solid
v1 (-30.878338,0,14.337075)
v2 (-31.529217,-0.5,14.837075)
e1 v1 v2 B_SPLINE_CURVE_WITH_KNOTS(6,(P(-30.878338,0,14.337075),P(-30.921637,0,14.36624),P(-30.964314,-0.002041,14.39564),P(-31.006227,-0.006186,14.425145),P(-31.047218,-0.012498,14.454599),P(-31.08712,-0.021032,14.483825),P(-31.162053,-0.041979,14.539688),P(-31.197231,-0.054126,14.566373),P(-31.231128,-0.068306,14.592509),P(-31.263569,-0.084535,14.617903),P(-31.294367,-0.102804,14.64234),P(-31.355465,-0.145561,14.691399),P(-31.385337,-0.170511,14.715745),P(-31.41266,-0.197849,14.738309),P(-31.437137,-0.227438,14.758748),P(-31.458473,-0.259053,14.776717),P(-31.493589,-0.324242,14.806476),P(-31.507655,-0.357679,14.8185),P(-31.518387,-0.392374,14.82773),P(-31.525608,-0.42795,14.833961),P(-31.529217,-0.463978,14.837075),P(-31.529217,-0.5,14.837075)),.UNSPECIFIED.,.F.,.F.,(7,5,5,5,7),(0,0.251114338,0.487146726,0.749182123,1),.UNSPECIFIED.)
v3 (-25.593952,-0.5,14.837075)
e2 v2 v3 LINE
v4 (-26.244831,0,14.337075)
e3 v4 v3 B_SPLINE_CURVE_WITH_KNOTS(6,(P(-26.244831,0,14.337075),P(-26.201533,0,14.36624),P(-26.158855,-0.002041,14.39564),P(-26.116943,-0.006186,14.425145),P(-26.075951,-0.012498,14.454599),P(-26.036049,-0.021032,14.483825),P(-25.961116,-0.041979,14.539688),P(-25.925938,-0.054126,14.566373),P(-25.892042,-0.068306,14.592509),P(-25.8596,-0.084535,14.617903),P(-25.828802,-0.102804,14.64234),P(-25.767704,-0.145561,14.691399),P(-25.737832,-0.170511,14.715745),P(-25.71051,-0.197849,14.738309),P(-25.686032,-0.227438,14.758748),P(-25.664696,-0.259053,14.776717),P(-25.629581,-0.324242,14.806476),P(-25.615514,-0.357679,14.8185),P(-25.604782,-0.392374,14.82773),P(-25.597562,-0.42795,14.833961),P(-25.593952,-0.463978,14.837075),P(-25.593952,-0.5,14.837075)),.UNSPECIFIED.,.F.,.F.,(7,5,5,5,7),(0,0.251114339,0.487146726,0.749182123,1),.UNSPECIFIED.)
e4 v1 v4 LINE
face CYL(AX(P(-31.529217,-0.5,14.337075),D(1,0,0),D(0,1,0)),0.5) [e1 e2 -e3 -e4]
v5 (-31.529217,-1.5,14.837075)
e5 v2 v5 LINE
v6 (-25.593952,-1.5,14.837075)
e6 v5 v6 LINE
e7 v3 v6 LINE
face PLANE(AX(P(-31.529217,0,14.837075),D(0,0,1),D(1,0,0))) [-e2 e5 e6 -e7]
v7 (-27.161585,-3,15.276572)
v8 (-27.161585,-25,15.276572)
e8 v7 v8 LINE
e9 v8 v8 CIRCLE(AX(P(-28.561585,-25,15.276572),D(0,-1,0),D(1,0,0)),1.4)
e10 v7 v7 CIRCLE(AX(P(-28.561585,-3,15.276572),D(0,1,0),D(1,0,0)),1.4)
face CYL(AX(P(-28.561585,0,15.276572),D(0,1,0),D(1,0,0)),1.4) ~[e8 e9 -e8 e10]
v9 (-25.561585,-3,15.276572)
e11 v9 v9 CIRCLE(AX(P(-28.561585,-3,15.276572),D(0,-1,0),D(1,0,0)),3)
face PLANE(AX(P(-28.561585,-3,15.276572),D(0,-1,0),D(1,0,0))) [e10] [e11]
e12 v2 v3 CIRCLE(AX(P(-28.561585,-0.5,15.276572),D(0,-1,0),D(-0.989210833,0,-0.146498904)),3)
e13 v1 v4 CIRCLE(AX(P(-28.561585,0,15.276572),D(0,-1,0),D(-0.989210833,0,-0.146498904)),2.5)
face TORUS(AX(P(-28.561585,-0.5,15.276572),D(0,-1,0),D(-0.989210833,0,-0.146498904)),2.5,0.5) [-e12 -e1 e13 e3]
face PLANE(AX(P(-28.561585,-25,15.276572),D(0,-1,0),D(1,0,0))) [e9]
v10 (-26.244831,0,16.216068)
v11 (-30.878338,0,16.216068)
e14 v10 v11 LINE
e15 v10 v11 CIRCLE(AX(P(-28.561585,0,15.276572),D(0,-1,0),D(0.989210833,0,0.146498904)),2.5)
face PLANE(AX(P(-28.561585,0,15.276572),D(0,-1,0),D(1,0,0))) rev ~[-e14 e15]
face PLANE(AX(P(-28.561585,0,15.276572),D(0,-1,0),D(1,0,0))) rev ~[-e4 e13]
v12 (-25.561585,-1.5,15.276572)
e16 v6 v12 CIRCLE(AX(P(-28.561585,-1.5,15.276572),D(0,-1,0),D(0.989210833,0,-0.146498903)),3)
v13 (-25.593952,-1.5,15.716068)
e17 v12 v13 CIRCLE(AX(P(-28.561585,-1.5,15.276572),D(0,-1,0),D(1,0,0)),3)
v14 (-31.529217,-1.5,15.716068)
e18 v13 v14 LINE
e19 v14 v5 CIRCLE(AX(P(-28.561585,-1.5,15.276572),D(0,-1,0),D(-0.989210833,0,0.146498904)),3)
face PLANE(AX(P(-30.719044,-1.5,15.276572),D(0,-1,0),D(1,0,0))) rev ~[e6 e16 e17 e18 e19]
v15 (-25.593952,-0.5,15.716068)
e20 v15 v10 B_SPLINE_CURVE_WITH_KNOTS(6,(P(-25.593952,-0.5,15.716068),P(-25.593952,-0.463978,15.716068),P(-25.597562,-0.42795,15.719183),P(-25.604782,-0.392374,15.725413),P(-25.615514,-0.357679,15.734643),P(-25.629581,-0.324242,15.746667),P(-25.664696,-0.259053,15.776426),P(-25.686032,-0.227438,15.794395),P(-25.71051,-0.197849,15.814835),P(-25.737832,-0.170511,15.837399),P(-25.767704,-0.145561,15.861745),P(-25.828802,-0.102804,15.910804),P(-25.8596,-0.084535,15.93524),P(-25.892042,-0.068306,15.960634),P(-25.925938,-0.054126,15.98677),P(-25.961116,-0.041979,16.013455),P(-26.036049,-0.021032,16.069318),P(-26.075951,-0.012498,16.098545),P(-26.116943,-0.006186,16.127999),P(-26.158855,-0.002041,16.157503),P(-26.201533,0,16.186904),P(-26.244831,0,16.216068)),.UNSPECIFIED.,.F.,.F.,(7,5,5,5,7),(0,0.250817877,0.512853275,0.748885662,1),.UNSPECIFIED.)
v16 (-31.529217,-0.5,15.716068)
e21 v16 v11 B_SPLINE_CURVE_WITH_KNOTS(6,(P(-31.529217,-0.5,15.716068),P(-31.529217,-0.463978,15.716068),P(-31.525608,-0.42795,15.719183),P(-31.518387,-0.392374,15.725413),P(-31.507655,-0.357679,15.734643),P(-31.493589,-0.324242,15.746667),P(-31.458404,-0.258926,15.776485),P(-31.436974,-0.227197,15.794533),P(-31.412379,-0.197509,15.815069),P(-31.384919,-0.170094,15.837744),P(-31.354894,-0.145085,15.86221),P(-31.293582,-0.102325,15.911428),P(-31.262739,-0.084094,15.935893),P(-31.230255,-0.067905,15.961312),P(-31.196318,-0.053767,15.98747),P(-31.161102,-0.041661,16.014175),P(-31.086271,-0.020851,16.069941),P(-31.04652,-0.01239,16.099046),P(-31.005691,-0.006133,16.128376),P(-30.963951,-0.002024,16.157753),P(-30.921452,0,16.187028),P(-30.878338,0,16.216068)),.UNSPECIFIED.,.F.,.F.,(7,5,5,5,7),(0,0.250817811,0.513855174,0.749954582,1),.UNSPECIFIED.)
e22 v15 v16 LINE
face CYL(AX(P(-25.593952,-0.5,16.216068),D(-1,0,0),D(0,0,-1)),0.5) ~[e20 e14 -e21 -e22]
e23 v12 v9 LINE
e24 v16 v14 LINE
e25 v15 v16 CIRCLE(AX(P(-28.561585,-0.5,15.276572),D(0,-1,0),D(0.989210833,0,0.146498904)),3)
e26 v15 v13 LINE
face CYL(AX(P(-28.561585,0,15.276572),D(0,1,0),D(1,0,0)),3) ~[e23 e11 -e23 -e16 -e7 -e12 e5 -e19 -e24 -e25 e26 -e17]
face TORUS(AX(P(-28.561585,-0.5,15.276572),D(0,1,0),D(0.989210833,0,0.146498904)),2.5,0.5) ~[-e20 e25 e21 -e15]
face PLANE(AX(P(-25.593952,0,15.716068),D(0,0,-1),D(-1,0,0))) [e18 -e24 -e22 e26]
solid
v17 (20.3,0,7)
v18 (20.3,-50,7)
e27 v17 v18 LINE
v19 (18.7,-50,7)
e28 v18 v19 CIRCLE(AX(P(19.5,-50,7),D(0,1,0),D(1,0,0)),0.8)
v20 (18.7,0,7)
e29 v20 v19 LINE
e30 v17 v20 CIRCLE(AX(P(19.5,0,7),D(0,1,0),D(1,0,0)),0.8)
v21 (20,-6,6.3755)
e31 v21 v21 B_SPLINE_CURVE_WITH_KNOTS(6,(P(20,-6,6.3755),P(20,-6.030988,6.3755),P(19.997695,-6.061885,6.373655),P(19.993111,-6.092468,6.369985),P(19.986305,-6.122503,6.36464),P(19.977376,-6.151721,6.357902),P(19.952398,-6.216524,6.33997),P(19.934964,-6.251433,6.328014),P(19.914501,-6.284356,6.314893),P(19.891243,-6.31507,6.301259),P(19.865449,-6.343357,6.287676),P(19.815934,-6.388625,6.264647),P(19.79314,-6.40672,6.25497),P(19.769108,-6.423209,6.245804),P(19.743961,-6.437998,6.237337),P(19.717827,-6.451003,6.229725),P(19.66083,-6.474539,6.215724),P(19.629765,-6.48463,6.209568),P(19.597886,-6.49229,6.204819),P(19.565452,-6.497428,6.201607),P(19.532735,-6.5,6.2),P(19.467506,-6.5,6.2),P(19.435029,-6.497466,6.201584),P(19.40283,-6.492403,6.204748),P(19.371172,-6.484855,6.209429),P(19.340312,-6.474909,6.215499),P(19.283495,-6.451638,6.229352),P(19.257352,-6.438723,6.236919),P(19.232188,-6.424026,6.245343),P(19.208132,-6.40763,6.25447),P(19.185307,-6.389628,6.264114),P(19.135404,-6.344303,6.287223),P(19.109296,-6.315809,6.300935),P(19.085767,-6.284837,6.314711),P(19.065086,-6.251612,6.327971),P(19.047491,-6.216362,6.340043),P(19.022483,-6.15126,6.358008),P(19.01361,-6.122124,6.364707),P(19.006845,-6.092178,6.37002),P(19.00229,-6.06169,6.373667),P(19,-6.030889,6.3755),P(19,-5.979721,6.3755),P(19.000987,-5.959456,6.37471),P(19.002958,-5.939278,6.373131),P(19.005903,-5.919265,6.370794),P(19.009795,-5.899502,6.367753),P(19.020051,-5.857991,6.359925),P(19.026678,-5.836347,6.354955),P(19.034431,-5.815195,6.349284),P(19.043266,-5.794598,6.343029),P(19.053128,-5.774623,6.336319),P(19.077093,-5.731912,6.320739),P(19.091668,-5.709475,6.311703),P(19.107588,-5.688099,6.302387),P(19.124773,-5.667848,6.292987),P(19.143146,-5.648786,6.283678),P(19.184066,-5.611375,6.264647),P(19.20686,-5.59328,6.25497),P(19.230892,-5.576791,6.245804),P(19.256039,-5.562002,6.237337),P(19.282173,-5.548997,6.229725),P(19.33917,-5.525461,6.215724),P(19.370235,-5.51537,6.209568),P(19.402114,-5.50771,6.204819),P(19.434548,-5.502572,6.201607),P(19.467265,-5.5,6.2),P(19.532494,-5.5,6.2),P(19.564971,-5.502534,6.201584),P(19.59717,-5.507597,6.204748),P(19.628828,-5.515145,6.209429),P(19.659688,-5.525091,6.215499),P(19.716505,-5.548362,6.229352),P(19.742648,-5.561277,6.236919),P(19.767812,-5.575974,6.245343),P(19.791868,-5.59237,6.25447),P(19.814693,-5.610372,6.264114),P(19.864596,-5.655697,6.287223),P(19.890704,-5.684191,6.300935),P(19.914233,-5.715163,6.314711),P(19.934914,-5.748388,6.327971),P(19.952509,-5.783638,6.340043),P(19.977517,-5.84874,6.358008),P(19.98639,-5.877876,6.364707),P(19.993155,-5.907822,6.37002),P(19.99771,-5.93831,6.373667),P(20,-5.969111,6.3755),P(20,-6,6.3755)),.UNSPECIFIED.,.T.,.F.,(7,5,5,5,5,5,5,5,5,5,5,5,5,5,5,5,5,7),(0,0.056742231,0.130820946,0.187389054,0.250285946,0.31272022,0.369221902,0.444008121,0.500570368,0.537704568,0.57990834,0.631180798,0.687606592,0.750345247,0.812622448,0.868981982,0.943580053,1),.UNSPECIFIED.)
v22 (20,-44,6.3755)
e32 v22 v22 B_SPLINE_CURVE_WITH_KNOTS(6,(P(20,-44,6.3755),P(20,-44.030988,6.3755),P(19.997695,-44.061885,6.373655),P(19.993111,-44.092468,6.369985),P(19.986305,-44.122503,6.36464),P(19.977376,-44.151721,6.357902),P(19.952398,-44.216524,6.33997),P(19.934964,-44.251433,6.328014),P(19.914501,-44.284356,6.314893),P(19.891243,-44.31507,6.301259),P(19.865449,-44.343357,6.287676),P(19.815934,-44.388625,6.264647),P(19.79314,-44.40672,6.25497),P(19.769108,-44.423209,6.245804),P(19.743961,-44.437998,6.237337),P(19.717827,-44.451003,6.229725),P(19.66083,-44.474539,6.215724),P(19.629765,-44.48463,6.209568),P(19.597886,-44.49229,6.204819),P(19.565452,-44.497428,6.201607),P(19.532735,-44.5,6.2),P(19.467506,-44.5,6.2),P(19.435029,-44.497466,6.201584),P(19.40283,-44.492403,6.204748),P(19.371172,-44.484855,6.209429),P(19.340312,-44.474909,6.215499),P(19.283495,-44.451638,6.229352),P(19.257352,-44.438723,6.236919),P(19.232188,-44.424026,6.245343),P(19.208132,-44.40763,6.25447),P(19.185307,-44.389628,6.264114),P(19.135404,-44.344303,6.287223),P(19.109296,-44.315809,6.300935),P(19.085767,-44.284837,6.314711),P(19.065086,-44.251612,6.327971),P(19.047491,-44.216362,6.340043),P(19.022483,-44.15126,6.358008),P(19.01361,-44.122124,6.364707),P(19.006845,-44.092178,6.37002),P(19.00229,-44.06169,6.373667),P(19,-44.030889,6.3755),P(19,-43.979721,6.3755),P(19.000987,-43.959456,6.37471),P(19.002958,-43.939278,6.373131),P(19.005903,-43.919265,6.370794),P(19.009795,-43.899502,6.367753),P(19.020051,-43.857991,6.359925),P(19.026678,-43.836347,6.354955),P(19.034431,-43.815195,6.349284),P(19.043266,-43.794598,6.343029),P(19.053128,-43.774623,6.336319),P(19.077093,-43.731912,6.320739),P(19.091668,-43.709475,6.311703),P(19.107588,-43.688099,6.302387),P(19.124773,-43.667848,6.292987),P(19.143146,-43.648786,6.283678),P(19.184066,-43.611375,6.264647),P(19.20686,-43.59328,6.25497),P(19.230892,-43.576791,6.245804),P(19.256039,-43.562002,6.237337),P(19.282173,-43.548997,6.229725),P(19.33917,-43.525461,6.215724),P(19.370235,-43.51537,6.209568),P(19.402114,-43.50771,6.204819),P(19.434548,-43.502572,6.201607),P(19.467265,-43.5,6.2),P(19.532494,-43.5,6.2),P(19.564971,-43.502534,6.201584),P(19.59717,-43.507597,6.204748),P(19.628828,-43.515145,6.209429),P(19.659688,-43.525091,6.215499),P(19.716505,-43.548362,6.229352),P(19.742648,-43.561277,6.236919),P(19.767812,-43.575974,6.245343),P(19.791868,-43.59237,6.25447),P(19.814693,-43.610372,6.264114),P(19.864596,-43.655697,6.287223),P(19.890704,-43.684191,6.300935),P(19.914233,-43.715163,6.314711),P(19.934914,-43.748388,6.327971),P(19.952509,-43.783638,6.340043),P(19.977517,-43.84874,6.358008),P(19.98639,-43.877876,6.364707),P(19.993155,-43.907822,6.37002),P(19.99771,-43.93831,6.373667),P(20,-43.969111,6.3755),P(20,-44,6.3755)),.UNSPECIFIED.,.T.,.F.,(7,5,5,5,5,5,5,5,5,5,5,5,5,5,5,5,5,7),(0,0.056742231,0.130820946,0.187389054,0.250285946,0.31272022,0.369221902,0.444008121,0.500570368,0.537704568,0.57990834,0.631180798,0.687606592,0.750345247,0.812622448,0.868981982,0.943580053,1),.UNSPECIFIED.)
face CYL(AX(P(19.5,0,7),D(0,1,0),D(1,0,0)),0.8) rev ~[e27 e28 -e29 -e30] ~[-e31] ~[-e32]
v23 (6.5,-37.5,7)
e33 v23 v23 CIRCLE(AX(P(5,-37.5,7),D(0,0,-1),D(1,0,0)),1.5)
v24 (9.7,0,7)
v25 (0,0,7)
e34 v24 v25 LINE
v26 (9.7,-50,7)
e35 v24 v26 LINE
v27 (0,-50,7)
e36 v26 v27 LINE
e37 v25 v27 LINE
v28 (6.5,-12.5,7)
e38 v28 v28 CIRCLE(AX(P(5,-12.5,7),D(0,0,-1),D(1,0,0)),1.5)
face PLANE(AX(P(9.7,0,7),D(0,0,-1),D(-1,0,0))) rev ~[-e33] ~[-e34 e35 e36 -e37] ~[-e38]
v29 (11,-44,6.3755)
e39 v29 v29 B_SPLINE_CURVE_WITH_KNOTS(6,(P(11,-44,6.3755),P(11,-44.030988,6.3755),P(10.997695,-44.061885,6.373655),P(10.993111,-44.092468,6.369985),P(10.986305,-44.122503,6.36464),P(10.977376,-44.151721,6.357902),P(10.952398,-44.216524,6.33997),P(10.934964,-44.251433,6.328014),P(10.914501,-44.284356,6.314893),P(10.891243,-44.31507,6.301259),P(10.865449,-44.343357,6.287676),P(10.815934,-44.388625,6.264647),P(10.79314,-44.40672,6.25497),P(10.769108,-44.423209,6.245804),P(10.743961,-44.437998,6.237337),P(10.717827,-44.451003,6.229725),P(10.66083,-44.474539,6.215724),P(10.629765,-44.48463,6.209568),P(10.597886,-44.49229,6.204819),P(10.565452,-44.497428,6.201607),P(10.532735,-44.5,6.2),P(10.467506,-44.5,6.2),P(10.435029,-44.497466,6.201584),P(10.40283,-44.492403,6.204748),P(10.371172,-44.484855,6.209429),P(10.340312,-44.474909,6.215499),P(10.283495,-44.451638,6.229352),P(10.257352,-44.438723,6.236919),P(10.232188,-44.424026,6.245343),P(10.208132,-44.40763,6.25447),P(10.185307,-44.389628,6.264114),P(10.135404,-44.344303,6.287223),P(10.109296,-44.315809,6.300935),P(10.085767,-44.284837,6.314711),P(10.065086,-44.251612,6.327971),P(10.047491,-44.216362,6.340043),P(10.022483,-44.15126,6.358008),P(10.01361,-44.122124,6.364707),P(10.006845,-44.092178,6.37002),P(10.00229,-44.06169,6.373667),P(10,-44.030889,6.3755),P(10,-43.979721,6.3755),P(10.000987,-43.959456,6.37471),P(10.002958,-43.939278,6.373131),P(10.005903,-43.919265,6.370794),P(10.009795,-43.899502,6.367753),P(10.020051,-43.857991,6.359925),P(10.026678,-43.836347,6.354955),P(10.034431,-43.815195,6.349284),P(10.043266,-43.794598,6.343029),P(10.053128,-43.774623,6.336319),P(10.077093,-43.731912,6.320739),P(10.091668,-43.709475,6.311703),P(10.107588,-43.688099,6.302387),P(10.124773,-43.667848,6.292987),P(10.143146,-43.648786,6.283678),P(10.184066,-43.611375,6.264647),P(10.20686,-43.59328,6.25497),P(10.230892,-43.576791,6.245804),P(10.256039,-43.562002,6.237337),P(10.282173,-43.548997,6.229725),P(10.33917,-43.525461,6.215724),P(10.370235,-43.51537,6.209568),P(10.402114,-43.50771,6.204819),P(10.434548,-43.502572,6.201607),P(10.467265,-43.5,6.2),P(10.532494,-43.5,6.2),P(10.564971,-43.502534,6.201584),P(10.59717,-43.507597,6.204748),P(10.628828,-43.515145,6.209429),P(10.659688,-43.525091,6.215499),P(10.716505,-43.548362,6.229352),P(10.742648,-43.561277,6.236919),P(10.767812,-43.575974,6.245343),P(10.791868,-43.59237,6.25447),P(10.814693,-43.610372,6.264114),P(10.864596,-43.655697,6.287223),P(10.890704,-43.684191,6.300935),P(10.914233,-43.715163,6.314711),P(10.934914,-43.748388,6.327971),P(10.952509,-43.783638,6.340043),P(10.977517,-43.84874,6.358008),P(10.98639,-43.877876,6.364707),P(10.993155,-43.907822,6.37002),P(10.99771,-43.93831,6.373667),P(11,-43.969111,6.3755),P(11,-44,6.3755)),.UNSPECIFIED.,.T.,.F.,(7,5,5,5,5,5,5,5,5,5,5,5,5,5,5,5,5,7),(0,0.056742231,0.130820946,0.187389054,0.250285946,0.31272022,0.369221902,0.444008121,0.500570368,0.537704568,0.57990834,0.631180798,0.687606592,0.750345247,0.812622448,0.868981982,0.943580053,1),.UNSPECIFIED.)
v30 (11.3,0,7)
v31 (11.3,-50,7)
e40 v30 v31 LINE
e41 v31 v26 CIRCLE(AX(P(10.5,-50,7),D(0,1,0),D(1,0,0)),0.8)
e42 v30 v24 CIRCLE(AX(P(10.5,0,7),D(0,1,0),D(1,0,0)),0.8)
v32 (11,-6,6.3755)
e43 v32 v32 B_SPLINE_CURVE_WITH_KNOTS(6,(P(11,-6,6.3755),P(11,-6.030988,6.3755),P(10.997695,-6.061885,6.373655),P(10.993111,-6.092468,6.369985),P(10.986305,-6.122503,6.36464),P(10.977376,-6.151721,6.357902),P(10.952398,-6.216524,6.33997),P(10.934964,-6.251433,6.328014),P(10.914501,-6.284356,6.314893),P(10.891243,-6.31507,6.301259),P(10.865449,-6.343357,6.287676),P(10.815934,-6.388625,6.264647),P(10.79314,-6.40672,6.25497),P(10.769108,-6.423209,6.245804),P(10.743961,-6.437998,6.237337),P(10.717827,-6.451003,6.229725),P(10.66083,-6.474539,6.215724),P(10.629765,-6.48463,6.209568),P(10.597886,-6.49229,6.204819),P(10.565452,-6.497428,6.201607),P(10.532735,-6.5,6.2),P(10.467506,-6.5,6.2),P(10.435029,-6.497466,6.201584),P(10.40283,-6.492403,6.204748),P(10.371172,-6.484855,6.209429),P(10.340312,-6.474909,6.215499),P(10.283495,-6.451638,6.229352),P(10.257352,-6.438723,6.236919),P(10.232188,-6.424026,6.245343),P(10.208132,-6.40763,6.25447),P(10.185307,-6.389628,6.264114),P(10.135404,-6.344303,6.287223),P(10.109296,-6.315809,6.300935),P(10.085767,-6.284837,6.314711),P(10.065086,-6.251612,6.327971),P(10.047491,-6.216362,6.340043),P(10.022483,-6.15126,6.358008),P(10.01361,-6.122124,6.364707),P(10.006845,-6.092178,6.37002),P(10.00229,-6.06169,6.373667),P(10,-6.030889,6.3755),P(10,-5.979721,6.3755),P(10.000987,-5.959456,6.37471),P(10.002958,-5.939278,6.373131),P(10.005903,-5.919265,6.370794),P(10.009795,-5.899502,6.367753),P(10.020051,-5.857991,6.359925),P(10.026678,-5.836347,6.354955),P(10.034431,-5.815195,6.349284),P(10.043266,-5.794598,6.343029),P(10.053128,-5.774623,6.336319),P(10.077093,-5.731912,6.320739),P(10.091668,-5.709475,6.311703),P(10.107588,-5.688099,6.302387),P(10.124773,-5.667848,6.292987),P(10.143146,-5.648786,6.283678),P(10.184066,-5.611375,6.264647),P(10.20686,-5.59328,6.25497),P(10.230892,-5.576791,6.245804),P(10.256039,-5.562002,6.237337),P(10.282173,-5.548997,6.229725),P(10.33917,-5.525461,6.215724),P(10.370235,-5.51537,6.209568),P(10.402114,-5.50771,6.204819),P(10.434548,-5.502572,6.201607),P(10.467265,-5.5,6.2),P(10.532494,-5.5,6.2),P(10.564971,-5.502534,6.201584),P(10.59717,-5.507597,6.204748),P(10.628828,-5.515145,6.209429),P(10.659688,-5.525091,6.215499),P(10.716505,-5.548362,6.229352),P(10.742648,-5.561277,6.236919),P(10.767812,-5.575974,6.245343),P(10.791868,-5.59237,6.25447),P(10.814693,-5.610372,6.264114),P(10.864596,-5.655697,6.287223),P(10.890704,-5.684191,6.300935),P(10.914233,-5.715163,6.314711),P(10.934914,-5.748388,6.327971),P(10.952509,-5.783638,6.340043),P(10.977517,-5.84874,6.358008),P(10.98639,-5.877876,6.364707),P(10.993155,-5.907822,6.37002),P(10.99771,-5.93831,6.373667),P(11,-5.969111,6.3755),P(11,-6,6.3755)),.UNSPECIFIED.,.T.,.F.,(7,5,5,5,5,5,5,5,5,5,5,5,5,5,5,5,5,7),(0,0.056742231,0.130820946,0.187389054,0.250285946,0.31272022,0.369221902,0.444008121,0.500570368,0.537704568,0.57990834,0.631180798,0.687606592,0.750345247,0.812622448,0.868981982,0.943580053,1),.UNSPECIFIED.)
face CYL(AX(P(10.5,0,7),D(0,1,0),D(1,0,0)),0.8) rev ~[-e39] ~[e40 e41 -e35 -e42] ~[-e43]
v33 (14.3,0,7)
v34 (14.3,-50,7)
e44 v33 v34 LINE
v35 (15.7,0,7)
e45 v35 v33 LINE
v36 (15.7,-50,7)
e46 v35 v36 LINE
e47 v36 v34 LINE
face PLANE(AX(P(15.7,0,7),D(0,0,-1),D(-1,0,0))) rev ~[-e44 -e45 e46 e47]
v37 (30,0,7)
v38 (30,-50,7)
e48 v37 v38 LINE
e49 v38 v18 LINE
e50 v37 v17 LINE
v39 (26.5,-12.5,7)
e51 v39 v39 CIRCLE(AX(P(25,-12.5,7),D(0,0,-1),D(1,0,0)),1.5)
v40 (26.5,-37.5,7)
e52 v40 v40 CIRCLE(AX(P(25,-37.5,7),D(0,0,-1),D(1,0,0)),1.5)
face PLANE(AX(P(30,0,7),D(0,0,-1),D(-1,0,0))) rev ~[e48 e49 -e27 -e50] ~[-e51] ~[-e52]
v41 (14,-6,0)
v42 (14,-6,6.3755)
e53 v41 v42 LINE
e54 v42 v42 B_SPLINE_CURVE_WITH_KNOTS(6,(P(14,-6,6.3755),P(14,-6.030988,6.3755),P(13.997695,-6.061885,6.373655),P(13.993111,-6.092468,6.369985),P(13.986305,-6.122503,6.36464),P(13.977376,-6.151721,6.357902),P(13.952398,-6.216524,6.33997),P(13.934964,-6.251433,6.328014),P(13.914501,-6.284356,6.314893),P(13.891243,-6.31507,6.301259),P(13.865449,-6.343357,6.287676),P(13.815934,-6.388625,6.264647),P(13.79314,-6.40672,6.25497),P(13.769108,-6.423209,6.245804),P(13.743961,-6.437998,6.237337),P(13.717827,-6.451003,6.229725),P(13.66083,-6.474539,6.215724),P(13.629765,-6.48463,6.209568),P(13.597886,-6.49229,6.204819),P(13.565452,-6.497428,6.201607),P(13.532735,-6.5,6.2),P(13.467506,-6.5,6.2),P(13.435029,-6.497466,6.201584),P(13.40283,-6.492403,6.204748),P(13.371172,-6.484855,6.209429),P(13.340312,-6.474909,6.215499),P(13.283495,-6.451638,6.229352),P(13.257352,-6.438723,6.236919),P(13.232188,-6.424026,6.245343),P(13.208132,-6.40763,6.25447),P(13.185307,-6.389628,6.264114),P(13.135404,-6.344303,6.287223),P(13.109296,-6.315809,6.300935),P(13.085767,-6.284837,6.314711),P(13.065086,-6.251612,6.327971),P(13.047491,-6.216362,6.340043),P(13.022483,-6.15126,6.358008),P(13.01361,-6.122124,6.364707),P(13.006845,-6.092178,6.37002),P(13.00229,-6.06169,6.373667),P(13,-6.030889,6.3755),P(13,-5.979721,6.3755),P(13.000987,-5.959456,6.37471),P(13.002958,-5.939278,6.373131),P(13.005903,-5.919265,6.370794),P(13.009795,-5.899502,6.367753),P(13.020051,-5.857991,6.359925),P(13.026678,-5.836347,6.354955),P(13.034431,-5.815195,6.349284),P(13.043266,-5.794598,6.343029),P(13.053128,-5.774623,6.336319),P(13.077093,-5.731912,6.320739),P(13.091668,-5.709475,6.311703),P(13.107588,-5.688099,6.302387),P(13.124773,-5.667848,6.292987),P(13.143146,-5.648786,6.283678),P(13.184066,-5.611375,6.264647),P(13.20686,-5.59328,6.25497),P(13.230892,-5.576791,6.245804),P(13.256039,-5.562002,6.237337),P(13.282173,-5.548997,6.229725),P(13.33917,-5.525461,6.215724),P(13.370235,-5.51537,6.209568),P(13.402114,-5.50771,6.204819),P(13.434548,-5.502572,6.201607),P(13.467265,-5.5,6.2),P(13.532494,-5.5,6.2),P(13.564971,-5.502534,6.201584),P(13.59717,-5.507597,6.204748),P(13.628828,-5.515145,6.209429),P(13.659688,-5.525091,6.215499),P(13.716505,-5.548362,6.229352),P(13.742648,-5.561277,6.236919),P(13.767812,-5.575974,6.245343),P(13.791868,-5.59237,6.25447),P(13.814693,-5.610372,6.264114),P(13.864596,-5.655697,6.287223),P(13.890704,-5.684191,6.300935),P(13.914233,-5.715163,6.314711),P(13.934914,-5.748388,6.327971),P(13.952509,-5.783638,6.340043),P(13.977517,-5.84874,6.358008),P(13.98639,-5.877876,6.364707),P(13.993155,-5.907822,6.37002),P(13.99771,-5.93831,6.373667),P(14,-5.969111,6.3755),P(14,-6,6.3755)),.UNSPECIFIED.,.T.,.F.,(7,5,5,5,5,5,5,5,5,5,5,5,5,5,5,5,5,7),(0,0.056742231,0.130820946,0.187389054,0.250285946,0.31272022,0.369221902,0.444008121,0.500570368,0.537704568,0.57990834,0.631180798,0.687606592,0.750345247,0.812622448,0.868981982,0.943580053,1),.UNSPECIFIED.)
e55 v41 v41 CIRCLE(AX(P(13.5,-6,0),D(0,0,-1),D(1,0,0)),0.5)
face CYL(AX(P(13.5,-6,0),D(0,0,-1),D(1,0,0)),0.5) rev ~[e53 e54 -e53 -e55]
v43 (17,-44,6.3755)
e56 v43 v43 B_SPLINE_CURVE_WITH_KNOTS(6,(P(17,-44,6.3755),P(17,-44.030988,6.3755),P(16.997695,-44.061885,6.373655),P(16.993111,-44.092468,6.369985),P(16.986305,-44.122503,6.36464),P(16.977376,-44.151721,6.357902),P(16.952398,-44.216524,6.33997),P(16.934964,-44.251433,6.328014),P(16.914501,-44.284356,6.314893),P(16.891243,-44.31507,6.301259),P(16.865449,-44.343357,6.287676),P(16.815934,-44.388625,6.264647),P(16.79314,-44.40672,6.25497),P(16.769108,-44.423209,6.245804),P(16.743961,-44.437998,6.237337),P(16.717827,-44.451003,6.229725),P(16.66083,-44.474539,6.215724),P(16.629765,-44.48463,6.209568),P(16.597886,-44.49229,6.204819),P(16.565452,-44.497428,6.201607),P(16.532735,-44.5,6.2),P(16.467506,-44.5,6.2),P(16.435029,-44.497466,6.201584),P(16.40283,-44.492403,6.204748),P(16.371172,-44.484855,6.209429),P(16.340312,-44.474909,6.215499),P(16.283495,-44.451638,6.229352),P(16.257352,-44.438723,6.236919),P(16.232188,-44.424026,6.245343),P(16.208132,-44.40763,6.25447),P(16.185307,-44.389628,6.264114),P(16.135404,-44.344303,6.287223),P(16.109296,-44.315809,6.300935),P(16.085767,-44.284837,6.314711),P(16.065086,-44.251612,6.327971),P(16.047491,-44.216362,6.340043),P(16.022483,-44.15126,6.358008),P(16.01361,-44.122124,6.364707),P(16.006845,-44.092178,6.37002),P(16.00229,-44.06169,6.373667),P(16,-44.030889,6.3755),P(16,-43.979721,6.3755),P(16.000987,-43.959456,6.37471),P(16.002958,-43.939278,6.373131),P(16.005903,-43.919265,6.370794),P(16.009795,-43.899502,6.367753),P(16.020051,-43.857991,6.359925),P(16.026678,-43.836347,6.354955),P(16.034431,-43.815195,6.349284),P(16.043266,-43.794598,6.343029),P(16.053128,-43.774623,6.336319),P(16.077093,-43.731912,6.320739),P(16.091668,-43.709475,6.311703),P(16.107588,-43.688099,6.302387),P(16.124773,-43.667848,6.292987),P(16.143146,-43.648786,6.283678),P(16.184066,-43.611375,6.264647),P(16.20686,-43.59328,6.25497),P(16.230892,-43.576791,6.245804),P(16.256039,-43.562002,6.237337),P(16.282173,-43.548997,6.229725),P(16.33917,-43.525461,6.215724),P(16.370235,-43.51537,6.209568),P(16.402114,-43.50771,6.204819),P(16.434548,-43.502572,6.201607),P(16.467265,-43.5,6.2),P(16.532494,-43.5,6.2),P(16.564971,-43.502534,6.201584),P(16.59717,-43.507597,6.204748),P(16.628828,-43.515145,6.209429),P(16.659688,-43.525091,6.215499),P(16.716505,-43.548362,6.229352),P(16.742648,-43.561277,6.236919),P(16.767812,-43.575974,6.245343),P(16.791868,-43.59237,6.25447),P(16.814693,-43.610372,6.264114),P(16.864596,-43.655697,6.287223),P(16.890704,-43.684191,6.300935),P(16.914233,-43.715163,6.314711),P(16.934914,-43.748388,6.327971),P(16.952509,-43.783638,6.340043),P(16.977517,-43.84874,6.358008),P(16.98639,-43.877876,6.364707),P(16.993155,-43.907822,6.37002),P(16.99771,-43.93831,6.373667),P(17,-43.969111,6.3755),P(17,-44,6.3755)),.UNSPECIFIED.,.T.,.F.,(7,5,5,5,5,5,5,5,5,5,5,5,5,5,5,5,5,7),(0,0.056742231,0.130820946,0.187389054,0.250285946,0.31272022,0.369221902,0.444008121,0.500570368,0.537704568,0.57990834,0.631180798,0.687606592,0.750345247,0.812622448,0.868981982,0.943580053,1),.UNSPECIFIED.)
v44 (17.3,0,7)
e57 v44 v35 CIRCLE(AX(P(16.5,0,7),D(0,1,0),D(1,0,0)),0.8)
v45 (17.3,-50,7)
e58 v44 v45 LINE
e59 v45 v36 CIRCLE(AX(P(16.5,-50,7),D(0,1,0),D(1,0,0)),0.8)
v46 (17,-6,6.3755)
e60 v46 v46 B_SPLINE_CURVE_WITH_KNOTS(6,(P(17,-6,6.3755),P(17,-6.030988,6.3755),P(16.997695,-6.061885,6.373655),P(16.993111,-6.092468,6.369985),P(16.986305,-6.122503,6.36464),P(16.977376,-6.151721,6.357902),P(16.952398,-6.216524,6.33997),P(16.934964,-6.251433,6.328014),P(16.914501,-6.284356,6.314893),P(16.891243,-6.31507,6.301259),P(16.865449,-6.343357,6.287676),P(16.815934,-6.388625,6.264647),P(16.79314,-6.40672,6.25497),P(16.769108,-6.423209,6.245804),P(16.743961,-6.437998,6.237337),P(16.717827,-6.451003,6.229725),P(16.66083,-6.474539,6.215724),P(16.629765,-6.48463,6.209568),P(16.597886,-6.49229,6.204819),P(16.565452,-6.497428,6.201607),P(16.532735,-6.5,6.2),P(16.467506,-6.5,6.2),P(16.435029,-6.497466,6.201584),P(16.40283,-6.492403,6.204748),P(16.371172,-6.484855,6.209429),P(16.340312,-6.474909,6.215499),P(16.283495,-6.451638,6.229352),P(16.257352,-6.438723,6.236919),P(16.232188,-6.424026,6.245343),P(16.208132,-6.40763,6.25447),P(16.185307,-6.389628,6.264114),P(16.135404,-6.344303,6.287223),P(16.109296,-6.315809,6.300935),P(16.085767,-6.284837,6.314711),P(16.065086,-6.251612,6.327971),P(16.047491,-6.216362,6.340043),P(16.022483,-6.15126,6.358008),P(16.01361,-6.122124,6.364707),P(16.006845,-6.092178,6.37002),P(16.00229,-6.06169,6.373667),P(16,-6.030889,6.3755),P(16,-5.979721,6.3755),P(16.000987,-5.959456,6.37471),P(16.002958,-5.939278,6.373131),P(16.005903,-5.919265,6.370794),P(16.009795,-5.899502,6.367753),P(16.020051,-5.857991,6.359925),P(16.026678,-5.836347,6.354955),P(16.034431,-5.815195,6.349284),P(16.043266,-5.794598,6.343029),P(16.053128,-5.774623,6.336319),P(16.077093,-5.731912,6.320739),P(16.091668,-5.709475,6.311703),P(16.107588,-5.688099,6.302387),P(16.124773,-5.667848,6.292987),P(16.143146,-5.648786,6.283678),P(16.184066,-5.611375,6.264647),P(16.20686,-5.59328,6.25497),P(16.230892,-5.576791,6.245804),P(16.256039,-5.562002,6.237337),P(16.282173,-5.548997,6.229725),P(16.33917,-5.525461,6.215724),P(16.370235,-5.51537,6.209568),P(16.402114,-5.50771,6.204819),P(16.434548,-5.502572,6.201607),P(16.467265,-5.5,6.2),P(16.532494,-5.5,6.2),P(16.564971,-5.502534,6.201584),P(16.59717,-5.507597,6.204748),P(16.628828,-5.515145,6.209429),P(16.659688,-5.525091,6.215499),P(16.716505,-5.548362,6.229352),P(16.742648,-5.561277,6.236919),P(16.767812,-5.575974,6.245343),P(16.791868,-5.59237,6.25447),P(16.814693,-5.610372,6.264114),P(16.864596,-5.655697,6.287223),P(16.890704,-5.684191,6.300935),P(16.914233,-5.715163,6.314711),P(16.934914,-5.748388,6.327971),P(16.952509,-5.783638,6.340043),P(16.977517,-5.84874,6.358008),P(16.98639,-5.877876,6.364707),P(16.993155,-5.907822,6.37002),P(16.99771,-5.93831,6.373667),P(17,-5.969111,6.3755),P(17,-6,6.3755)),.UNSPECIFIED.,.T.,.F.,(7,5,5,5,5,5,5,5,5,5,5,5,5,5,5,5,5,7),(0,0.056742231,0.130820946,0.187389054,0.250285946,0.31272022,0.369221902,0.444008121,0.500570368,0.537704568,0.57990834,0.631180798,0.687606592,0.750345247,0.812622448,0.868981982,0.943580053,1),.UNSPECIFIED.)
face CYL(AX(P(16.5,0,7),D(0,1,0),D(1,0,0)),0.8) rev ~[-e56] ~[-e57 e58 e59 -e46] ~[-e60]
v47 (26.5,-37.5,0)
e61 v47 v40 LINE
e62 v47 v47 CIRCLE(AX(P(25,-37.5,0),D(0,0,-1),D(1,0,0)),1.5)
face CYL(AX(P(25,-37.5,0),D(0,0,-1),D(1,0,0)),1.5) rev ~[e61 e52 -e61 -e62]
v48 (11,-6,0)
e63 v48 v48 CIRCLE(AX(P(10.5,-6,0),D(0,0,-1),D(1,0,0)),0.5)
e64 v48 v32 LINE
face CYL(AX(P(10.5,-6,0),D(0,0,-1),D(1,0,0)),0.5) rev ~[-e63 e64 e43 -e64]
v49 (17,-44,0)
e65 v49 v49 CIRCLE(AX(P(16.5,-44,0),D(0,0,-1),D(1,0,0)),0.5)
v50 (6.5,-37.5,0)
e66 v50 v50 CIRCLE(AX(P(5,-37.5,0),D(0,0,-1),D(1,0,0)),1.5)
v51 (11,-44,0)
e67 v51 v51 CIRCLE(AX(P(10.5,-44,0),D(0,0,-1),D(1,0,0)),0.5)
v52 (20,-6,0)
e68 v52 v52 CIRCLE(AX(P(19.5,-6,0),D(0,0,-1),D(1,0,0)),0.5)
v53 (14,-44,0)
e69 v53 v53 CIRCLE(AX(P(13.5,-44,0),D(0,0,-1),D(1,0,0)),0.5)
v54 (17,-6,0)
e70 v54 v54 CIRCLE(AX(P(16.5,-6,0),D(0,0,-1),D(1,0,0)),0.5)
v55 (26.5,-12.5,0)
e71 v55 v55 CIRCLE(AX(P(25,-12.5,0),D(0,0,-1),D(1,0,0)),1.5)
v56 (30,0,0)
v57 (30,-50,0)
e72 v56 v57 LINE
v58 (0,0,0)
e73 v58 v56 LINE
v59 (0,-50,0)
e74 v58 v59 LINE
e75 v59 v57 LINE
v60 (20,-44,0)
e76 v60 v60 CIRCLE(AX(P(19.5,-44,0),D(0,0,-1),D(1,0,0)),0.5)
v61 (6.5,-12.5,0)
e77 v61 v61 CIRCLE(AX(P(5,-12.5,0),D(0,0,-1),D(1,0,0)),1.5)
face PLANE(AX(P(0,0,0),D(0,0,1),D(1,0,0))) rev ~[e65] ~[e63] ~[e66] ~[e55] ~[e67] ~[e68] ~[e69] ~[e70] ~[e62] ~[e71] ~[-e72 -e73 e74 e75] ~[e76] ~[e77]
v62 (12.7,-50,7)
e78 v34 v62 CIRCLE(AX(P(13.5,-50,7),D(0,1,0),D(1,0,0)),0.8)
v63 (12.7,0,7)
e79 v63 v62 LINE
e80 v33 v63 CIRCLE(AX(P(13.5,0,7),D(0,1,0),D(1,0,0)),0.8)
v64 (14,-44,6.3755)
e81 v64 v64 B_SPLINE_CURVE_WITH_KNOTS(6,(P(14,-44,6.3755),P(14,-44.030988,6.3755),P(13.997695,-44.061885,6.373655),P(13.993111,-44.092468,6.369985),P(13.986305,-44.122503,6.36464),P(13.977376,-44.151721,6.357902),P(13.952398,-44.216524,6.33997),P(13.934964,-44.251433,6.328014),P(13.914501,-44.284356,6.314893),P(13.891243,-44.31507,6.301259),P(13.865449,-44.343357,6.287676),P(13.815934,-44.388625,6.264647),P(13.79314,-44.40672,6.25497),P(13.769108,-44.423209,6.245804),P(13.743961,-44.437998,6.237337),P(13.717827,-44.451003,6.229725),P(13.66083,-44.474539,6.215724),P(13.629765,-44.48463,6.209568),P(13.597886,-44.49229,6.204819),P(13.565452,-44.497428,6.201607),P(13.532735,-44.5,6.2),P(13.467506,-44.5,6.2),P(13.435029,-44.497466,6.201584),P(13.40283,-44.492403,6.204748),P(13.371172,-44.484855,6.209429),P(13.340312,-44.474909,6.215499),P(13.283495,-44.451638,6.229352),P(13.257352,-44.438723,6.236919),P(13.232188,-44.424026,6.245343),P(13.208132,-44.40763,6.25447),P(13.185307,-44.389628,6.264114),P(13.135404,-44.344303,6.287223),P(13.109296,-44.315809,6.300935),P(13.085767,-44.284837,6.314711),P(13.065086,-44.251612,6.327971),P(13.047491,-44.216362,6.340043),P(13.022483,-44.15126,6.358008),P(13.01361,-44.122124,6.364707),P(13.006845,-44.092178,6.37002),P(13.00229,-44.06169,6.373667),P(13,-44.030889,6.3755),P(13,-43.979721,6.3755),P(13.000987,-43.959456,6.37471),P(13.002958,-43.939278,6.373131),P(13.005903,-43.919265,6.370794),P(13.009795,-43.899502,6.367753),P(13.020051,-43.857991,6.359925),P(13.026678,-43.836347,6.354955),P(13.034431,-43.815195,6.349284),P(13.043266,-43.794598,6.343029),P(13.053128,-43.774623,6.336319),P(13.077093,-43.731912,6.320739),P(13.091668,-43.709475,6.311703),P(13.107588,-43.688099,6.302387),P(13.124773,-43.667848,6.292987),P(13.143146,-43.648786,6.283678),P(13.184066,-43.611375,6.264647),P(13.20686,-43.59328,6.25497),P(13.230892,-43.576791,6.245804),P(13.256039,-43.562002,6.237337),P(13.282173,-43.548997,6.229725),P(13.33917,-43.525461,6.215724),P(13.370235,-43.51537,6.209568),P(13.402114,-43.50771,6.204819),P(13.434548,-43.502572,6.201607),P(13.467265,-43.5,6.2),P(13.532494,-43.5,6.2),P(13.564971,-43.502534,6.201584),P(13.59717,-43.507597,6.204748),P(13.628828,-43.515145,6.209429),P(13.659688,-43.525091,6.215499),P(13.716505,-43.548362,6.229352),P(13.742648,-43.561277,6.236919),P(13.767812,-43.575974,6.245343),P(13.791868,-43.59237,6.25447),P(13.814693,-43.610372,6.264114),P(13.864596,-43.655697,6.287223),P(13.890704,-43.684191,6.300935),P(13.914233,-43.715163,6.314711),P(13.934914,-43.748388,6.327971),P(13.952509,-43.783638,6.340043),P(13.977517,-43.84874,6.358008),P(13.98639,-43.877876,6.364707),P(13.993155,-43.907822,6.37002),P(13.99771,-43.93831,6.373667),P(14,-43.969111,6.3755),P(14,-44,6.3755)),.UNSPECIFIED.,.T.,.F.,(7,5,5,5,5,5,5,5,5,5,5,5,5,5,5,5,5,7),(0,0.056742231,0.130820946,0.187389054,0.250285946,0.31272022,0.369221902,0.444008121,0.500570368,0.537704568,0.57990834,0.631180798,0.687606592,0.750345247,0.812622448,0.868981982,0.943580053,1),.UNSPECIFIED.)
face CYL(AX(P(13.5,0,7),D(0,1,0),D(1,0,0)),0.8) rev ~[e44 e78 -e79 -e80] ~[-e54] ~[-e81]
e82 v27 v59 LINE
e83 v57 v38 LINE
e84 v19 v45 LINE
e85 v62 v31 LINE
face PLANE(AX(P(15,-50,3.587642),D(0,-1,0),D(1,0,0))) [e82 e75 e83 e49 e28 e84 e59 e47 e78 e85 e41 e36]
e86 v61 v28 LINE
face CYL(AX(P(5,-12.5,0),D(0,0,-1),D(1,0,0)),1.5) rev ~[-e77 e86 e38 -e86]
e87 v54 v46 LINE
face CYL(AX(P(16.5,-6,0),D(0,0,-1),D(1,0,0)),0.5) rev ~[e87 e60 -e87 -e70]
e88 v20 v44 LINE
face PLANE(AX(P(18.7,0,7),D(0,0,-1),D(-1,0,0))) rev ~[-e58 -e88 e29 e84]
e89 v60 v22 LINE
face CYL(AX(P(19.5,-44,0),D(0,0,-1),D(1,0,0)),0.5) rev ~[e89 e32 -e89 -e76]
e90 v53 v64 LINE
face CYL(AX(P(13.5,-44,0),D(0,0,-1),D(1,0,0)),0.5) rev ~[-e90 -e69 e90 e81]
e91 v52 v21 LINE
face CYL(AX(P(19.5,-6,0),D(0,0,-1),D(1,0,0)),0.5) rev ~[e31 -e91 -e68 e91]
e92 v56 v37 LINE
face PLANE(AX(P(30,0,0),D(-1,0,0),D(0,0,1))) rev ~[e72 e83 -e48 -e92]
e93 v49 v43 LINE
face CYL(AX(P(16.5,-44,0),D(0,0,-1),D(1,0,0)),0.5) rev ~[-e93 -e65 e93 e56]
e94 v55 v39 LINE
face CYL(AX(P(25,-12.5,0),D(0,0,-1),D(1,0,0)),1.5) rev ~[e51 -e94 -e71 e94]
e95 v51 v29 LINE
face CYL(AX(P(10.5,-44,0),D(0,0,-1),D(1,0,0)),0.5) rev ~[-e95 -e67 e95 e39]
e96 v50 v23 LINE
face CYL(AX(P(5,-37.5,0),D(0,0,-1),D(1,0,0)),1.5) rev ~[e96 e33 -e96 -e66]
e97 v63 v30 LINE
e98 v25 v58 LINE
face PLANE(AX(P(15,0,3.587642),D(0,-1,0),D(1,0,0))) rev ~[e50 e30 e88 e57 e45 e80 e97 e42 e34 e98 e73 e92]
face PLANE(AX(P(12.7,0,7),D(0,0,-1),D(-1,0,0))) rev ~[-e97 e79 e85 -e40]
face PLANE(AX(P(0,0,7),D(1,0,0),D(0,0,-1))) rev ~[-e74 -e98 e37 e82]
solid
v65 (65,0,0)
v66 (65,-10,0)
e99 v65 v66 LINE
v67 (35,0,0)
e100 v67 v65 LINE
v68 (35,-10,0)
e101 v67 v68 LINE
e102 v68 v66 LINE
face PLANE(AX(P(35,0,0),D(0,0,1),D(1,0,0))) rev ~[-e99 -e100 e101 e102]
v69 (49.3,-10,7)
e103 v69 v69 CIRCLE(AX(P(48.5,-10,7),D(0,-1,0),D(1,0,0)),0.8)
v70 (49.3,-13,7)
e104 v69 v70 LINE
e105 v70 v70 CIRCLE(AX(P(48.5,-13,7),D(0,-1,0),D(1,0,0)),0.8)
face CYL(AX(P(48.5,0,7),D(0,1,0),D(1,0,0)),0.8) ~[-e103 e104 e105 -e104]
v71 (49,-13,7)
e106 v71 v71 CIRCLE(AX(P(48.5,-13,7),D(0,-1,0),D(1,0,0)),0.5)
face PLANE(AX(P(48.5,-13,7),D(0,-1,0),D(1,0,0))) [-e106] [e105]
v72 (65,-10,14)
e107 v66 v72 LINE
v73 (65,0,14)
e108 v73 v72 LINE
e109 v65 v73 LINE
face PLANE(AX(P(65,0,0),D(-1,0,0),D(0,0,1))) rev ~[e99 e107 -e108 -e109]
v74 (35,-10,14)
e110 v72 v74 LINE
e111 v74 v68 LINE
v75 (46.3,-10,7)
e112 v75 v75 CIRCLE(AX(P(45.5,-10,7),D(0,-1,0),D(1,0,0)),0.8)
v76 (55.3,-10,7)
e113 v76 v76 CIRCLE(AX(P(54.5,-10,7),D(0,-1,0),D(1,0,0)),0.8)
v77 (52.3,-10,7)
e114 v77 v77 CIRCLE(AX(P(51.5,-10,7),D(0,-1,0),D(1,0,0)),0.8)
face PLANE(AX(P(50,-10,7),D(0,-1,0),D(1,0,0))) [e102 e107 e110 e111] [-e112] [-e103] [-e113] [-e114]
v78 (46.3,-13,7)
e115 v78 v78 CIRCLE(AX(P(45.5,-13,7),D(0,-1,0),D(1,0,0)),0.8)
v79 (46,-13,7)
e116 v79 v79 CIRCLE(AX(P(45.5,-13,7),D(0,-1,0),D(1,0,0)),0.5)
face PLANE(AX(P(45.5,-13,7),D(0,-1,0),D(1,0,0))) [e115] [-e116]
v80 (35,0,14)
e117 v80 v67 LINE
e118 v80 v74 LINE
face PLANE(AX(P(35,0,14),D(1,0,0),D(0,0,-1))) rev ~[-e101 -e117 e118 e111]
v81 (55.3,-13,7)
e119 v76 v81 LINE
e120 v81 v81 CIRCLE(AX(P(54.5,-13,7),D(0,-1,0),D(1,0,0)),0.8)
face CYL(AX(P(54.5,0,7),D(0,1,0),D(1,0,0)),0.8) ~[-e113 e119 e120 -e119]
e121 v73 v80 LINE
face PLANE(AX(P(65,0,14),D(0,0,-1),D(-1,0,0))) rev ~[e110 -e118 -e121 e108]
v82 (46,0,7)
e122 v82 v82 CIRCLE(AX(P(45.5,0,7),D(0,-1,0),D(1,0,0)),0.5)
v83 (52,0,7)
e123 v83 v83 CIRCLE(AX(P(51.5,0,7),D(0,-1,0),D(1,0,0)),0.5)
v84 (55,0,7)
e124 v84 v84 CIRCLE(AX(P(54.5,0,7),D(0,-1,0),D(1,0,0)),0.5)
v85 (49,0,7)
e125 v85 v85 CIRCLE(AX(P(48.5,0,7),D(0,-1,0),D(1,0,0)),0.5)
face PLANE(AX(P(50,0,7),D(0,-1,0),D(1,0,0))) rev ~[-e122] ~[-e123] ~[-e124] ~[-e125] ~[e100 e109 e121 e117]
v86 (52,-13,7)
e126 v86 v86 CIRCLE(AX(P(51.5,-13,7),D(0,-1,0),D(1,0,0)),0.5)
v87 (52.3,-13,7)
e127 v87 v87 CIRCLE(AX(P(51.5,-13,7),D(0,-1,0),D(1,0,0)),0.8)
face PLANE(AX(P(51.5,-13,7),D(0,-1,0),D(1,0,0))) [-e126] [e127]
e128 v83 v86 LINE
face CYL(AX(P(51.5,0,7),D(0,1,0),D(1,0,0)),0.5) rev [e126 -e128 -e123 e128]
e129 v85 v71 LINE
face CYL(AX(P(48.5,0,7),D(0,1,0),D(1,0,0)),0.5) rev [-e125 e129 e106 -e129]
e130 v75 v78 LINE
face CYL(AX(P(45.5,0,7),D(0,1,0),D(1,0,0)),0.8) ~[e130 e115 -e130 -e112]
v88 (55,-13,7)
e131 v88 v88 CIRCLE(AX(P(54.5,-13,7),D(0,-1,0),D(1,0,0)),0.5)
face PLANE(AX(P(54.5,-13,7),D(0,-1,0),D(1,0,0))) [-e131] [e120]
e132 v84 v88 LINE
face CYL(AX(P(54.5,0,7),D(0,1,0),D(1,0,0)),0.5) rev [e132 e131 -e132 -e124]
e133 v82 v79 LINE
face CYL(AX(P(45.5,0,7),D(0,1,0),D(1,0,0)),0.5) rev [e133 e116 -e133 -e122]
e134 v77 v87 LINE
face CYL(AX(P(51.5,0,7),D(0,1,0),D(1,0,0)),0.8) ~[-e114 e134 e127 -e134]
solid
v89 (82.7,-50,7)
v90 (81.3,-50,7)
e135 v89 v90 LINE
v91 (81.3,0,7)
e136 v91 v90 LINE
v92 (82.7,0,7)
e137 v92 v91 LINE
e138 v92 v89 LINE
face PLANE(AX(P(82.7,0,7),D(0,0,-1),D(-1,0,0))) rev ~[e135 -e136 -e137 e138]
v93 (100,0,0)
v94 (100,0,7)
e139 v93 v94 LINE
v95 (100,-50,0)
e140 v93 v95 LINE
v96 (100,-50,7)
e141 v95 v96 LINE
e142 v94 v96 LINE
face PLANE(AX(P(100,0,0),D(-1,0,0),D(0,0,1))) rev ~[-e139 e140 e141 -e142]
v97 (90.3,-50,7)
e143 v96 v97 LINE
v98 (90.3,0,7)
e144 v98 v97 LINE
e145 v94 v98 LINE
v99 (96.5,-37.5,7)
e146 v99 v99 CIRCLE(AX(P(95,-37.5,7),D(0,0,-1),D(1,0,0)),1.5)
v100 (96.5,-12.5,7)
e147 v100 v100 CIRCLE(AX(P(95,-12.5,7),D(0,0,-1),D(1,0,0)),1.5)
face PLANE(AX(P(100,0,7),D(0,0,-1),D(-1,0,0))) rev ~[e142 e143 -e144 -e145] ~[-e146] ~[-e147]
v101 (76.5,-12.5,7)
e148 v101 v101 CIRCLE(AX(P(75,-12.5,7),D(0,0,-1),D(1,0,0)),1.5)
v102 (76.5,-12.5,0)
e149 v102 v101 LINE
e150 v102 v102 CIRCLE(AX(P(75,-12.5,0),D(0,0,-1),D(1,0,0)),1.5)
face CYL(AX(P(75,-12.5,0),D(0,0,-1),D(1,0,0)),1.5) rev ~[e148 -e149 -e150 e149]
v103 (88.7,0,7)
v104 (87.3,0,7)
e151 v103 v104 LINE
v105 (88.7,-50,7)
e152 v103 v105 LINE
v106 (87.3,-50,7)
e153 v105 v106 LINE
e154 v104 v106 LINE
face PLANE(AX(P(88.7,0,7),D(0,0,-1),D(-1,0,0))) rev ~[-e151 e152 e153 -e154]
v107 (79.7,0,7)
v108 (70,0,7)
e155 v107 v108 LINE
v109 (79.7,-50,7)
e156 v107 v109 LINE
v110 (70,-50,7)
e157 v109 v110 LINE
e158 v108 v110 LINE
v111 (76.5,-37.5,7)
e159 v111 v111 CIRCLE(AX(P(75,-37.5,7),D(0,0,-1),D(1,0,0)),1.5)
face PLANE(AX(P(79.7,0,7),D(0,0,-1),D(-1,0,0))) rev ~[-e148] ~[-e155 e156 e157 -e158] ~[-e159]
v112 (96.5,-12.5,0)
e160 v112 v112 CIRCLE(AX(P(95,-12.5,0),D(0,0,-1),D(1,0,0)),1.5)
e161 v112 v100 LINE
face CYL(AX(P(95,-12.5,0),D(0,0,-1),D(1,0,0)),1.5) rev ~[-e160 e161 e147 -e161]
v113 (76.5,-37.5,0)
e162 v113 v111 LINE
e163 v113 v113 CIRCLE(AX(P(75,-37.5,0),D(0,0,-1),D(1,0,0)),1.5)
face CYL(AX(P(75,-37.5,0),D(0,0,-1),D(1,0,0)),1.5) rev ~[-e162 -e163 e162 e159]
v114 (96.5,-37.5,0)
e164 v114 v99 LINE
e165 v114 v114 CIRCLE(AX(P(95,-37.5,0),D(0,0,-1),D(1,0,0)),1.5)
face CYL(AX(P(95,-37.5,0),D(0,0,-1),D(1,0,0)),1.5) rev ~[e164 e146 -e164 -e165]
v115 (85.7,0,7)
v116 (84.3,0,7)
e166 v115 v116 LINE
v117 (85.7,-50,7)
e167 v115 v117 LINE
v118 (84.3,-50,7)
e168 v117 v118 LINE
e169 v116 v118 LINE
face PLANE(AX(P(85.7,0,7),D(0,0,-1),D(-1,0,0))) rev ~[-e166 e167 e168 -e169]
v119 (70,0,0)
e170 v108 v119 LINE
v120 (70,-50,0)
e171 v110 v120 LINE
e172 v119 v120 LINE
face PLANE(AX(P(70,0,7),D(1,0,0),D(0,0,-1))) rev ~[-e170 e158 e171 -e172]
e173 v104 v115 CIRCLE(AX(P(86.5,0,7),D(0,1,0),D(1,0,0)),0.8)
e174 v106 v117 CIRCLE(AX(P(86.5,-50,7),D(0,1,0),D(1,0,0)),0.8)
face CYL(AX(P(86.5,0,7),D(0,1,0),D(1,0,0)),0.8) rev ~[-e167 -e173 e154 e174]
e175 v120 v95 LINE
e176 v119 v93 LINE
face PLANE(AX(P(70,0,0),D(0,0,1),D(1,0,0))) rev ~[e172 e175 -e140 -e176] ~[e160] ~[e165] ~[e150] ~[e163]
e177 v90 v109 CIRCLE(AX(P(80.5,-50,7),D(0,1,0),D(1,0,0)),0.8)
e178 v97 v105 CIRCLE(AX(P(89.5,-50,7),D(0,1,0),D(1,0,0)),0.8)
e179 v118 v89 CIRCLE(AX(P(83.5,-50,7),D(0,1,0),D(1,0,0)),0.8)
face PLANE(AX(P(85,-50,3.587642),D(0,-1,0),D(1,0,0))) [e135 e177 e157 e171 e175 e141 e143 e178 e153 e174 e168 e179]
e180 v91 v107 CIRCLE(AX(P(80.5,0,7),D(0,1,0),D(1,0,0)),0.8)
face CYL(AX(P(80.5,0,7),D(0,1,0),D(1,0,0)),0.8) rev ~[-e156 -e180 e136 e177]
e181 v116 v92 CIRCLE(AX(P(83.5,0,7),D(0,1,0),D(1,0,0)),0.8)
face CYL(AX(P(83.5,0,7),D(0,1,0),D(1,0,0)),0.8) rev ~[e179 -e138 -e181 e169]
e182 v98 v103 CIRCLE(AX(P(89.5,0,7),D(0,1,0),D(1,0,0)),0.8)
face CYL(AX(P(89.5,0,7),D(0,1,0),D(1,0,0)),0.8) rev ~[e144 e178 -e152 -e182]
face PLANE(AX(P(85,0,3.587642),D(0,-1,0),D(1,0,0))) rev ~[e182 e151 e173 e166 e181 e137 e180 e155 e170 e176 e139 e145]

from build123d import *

# Parameters (mm, degrees)
F1_DEPTH  = 50
F2_R      = 0.8
F2_R_2    = 0.5
F3_DEPTH  = 13
F4_DEPTH  = 10
F5_R      = 3
F5_R_2    = 1.4
F6_DEPTH  = 3
F7_DEPTH  = 25
F9_DEPTH  = 1.5
F10_R     = 0.5
F11_R     = 1.5
F11_R_2   = 0.5
F13_DEPTH = 25
F14_R     = 1.5
F15_DEPTH = 25


with BuildPart() as f1:
    # F0 (on Front) → F1 (new body)
    with BuildSketch(Plane.XZ):
        with BuildLine():
            Line((0, 7), (0, 0))
            Line((0, 0), (30, 0))
            Line((30, 0), (30, 7))
            Line((30, 7), (20.3, 7))
            ThreePointArc((20.3, 7), (19.5, 6.2), (18.7, 7))
            Line((18.7, 7), (17.3, 7))
            ThreePointArc((17.3, 7), (16.5, 6.2), (15.7, 7))
            Line((15.7, 7), (14.3, 7))
            ThreePointArc((14.3, 7), (13.5, 6.2), (12.7, 7))
            Line((12.7, 7), (11.3, 7))
            ThreePointArc((11.3, 7), (10.5, 6.2), (9.7, 7))
            Line((9.7, 7), (0, 7))
        make_face()
    extrude(amount=F1_DEPTH)


with BuildPart() as f3:
    # F2 (on Front) → F3 (new body)
    with BuildSketch(Plane.XZ):
        with Locations((54.5, 7)):
            Circle(F2_R)
        with Locations((54.5, 7)):
            Circle(F2_R_2, mode=Mode.SUBTRACT)
    extrude(amount=F3_DEPTH)



with BuildPart() as f3b:
    # F2 (on Front) → F3, piece 2 (new body)
    with BuildSketch(Plane.XZ):
        with Locations((51.5, 7)):
            Circle(F2_R)
        with Locations((51.5, 7)):
            Circle(F2_R_2, mode=Mode.SUBTRACT)
    extrude(amount=F3_DEPTH)


with BuildPart() as f3c:
    # F2 (on Front) → F3, piece 3 (new body)
    with BuildSketch(Plane.XZ):
        with Locations((48.5, 7)):
            Circle(F2_R)
        with Locations((48.5, 7)):
            Circle(F2_R_2, mode=Mode.SUBTRACT)
    extrude(amount=F3_DEPTH)


with BuildPart() as f3d:
    # F2 (on Front) → F3, piece 4 (new body)
    with BuildSketch(Plane.XZ):
        with Locations((45.5, 7)):
            Circle(F2_R)
        with Locations((45.5, 7)):
            Circle(F2_R_2, mode=Mode.SUBTRACT)
    extrude(amount=F3_DEPTH)


with BuildPart() as f3_1:
    add(f3.part)

    add(f3b.part)  # F4 merges F3b

    add(f3c.part)  # F4 merges F3c

    add(f3d.part)  # F4 merges F3d
    # F2 (on Front) → F4 (join)
    with BuildSketch(Plane.XZ):
        Polygon((35, 7), (35, 0), (65, 0), (65, 7), (65, 14), (35, 14), align=None)
        with Locations((45.5, 7)):
            Circle(F2_R, mode=Mode.SUBTRACT)
        with Locations((48.5, 7)):
            Circle(F2_R, mode=Mode.SUBTRACT)
        with Locations((51.5, 7)):
            Circle(F2_R, mode=Mode.SUBTRACT)
        with Locations((54.5, 7)):
            Circle(F2_R, mode=Mode.SUBTRACT)
    extrude(amount=F4_DEPTH)


with BuildPart() as f6:
    # F5 (on Front) → F6 (new body)
    with BuildSketch(Plane.XZ):
        with Locations((-28.5615846515, 15.2765717357)):
            Circle(F5_R)
        with Locations((-28.5615846515, 15.2765717357)):
            Circle(F5_R_2, mode=Mode.SUBTRACT)
        with Locations((-28.5615846515, 15.2765717357)):
            Circle(F5_R_2)
    extrude(amount=F6_DEPTH)

    # F5 (on Front) → F7 (join)
    with BuildSketch(Plane.XZ):
        with Locations((-28.5615846515, 15.2765717357)):
            Circle(F5_R_2)
    extrude(amount=F7_DEPTH)

    # F8 (on face) → F9 (cut)
    with BuildSketch(Plane.XZ):
        with BuildLine():
            ThreePointArc((-29.8908109833, 14.8370750248), (-29.9615846515, 15.2765717357), (-29.8908109833, 15.7160684466))
            Line((-29.8908109833, 15.7160684466), (-31.5292171491, 15.7160684466))
            ThreePointArc((-31.5292171491, 15.7160684466), (-31.5615846515, 15.2765717357), (-31.5292171491, 14.8370750248))
            Line((-31.5292171491, 14.8370750248), (-29.8908109833, 14.8370750248))
        make_face()
        with BuildLine():
            ThreePointArc((-27.2323583197, 14.8370750248), (-27.1793913103, 15.0539923842), (-27.1615846515, 15.2765717357))
            ThreePointArc((-27.1615846515, 15.2765717357), (-27.1793913103, 15.4991510873), (-27.2323583197, 15.7160684466))
            Line((-27.2323583197, 15.7160684466), (-29.8908109833, 15.7160684466))
            ThreePointArc((-29.8908109833, 15.7160684466), (-29.9615846515, 15.2765717357), (-29.8908109833, 14.8370750248))
            Line((-29.8908109833, 14.8370750248), (-27.2323583197, 14.8370750248))
        make_face()
        with BuildLine():
            ThreePointArc((-27.2323583197, 15.7160684466), (-27.1793913103, 15.4991510873), (-27.1615846515, 15.2765717357))
            ThreePointArc((-27.1615846515, 15.2765717357), (-27.1793913103, 15.0539923842), (-27.2323583197, 14.8370750248))
            Line((-27.2323583197, 14.8370750248), (-25.5939521538, 14.8370750248))
            ThreePointArc((-25.5939521538, 14.8370750248), (-25.5696874697, 15.0562282459), (-25.5615846515, 15.2765717357))
            ThreePointArc((-25.5615846515, 15.2765717357), (-25.5696874697, 15.4969152256), (-25.5939521538, 15.7160684466))
            Line((-25.5939521538, 15.7160684466), (-27.2323583197, 15.7160684466))
        make_face()
    extrude(amount=F9_DEPTH, mode=Mode.SUBTRACT)

    # F10
    f10_edges = [f6.edges().sort_by_distance(p)[0] for p in [
        (-28.561585, 0, 15.716068),
        (-28.561585, 0, 18.276572),
        (-28.561585, 0, 12.276572),
        (-28.561585, 0, 14.837075),
    ]]
    fillet(f10_edges, radius=F10_R)


with BuildPart() as f12_1:
    # F12: copy of F1
    add(f1.part.moved(Location((70, 0, 0))))

    # F14 (on face) → F15 (cut)
    with BuildSketch(Plane(origin=(0, 0, 0), x_dir=(1, 0, 0), z_dir=(0, 0, -1))):
        with Locations((95, 37.5)):
            Circle(F14_R)
        with Locations((95, 12.5)):
            Circle(F14_R)
        with Locations((75, 37.5)):
            Circle(F14_R)
        with Locations((75, 12.5)):
            Circle(F14_R)
    extrude(amount=-F15_DEPTH, mode=Mode.SUBTRACT)


with BuildPart() as f1_1:
    add(f1.part)

    # F11 (on face) → F13 (cut)
    with BuildSketch(Plane(origin=(0, 0, 0), x_dir=(1, 0, 0), z_dir=(0, 0, -1))):
        with Locations((5, 12.5)):
            Circle(F11_R)
        with Locations((5, 37.5)):
            Circle(F11_R)
        with Locations((25, 12.5)):
            Circle(F11_R)
        with Locations((25, 37.5)):
            Circle(F11_R)
        with Locations((10.5, 6)):
            Circle(F11_R_2)
        with Locations((10.5, 44)):
            Circle(F11_R_2)
        with Locations((13.5, 6)):
            Circle(F11_R_2)
        with Locations((13.5, 44)):
            Circle(F11_R_2)
        with Locations((16.5, 6)):
            Circle(F11_R_2)
        with Locations((16.5, 44)):
            Circle(F11_R_2)
        with Locations((19.5, 6)):
            Circle(F11_R_2)
        with Locations((19.5, 44)):
            Circle(F11_R_2)
    extrude(amount=-F13_DEPTH, mode=Mode.SUBTRACT)


solid = Compound([f3_1.part, f6.part, f12_1.part, f1_1.part])
